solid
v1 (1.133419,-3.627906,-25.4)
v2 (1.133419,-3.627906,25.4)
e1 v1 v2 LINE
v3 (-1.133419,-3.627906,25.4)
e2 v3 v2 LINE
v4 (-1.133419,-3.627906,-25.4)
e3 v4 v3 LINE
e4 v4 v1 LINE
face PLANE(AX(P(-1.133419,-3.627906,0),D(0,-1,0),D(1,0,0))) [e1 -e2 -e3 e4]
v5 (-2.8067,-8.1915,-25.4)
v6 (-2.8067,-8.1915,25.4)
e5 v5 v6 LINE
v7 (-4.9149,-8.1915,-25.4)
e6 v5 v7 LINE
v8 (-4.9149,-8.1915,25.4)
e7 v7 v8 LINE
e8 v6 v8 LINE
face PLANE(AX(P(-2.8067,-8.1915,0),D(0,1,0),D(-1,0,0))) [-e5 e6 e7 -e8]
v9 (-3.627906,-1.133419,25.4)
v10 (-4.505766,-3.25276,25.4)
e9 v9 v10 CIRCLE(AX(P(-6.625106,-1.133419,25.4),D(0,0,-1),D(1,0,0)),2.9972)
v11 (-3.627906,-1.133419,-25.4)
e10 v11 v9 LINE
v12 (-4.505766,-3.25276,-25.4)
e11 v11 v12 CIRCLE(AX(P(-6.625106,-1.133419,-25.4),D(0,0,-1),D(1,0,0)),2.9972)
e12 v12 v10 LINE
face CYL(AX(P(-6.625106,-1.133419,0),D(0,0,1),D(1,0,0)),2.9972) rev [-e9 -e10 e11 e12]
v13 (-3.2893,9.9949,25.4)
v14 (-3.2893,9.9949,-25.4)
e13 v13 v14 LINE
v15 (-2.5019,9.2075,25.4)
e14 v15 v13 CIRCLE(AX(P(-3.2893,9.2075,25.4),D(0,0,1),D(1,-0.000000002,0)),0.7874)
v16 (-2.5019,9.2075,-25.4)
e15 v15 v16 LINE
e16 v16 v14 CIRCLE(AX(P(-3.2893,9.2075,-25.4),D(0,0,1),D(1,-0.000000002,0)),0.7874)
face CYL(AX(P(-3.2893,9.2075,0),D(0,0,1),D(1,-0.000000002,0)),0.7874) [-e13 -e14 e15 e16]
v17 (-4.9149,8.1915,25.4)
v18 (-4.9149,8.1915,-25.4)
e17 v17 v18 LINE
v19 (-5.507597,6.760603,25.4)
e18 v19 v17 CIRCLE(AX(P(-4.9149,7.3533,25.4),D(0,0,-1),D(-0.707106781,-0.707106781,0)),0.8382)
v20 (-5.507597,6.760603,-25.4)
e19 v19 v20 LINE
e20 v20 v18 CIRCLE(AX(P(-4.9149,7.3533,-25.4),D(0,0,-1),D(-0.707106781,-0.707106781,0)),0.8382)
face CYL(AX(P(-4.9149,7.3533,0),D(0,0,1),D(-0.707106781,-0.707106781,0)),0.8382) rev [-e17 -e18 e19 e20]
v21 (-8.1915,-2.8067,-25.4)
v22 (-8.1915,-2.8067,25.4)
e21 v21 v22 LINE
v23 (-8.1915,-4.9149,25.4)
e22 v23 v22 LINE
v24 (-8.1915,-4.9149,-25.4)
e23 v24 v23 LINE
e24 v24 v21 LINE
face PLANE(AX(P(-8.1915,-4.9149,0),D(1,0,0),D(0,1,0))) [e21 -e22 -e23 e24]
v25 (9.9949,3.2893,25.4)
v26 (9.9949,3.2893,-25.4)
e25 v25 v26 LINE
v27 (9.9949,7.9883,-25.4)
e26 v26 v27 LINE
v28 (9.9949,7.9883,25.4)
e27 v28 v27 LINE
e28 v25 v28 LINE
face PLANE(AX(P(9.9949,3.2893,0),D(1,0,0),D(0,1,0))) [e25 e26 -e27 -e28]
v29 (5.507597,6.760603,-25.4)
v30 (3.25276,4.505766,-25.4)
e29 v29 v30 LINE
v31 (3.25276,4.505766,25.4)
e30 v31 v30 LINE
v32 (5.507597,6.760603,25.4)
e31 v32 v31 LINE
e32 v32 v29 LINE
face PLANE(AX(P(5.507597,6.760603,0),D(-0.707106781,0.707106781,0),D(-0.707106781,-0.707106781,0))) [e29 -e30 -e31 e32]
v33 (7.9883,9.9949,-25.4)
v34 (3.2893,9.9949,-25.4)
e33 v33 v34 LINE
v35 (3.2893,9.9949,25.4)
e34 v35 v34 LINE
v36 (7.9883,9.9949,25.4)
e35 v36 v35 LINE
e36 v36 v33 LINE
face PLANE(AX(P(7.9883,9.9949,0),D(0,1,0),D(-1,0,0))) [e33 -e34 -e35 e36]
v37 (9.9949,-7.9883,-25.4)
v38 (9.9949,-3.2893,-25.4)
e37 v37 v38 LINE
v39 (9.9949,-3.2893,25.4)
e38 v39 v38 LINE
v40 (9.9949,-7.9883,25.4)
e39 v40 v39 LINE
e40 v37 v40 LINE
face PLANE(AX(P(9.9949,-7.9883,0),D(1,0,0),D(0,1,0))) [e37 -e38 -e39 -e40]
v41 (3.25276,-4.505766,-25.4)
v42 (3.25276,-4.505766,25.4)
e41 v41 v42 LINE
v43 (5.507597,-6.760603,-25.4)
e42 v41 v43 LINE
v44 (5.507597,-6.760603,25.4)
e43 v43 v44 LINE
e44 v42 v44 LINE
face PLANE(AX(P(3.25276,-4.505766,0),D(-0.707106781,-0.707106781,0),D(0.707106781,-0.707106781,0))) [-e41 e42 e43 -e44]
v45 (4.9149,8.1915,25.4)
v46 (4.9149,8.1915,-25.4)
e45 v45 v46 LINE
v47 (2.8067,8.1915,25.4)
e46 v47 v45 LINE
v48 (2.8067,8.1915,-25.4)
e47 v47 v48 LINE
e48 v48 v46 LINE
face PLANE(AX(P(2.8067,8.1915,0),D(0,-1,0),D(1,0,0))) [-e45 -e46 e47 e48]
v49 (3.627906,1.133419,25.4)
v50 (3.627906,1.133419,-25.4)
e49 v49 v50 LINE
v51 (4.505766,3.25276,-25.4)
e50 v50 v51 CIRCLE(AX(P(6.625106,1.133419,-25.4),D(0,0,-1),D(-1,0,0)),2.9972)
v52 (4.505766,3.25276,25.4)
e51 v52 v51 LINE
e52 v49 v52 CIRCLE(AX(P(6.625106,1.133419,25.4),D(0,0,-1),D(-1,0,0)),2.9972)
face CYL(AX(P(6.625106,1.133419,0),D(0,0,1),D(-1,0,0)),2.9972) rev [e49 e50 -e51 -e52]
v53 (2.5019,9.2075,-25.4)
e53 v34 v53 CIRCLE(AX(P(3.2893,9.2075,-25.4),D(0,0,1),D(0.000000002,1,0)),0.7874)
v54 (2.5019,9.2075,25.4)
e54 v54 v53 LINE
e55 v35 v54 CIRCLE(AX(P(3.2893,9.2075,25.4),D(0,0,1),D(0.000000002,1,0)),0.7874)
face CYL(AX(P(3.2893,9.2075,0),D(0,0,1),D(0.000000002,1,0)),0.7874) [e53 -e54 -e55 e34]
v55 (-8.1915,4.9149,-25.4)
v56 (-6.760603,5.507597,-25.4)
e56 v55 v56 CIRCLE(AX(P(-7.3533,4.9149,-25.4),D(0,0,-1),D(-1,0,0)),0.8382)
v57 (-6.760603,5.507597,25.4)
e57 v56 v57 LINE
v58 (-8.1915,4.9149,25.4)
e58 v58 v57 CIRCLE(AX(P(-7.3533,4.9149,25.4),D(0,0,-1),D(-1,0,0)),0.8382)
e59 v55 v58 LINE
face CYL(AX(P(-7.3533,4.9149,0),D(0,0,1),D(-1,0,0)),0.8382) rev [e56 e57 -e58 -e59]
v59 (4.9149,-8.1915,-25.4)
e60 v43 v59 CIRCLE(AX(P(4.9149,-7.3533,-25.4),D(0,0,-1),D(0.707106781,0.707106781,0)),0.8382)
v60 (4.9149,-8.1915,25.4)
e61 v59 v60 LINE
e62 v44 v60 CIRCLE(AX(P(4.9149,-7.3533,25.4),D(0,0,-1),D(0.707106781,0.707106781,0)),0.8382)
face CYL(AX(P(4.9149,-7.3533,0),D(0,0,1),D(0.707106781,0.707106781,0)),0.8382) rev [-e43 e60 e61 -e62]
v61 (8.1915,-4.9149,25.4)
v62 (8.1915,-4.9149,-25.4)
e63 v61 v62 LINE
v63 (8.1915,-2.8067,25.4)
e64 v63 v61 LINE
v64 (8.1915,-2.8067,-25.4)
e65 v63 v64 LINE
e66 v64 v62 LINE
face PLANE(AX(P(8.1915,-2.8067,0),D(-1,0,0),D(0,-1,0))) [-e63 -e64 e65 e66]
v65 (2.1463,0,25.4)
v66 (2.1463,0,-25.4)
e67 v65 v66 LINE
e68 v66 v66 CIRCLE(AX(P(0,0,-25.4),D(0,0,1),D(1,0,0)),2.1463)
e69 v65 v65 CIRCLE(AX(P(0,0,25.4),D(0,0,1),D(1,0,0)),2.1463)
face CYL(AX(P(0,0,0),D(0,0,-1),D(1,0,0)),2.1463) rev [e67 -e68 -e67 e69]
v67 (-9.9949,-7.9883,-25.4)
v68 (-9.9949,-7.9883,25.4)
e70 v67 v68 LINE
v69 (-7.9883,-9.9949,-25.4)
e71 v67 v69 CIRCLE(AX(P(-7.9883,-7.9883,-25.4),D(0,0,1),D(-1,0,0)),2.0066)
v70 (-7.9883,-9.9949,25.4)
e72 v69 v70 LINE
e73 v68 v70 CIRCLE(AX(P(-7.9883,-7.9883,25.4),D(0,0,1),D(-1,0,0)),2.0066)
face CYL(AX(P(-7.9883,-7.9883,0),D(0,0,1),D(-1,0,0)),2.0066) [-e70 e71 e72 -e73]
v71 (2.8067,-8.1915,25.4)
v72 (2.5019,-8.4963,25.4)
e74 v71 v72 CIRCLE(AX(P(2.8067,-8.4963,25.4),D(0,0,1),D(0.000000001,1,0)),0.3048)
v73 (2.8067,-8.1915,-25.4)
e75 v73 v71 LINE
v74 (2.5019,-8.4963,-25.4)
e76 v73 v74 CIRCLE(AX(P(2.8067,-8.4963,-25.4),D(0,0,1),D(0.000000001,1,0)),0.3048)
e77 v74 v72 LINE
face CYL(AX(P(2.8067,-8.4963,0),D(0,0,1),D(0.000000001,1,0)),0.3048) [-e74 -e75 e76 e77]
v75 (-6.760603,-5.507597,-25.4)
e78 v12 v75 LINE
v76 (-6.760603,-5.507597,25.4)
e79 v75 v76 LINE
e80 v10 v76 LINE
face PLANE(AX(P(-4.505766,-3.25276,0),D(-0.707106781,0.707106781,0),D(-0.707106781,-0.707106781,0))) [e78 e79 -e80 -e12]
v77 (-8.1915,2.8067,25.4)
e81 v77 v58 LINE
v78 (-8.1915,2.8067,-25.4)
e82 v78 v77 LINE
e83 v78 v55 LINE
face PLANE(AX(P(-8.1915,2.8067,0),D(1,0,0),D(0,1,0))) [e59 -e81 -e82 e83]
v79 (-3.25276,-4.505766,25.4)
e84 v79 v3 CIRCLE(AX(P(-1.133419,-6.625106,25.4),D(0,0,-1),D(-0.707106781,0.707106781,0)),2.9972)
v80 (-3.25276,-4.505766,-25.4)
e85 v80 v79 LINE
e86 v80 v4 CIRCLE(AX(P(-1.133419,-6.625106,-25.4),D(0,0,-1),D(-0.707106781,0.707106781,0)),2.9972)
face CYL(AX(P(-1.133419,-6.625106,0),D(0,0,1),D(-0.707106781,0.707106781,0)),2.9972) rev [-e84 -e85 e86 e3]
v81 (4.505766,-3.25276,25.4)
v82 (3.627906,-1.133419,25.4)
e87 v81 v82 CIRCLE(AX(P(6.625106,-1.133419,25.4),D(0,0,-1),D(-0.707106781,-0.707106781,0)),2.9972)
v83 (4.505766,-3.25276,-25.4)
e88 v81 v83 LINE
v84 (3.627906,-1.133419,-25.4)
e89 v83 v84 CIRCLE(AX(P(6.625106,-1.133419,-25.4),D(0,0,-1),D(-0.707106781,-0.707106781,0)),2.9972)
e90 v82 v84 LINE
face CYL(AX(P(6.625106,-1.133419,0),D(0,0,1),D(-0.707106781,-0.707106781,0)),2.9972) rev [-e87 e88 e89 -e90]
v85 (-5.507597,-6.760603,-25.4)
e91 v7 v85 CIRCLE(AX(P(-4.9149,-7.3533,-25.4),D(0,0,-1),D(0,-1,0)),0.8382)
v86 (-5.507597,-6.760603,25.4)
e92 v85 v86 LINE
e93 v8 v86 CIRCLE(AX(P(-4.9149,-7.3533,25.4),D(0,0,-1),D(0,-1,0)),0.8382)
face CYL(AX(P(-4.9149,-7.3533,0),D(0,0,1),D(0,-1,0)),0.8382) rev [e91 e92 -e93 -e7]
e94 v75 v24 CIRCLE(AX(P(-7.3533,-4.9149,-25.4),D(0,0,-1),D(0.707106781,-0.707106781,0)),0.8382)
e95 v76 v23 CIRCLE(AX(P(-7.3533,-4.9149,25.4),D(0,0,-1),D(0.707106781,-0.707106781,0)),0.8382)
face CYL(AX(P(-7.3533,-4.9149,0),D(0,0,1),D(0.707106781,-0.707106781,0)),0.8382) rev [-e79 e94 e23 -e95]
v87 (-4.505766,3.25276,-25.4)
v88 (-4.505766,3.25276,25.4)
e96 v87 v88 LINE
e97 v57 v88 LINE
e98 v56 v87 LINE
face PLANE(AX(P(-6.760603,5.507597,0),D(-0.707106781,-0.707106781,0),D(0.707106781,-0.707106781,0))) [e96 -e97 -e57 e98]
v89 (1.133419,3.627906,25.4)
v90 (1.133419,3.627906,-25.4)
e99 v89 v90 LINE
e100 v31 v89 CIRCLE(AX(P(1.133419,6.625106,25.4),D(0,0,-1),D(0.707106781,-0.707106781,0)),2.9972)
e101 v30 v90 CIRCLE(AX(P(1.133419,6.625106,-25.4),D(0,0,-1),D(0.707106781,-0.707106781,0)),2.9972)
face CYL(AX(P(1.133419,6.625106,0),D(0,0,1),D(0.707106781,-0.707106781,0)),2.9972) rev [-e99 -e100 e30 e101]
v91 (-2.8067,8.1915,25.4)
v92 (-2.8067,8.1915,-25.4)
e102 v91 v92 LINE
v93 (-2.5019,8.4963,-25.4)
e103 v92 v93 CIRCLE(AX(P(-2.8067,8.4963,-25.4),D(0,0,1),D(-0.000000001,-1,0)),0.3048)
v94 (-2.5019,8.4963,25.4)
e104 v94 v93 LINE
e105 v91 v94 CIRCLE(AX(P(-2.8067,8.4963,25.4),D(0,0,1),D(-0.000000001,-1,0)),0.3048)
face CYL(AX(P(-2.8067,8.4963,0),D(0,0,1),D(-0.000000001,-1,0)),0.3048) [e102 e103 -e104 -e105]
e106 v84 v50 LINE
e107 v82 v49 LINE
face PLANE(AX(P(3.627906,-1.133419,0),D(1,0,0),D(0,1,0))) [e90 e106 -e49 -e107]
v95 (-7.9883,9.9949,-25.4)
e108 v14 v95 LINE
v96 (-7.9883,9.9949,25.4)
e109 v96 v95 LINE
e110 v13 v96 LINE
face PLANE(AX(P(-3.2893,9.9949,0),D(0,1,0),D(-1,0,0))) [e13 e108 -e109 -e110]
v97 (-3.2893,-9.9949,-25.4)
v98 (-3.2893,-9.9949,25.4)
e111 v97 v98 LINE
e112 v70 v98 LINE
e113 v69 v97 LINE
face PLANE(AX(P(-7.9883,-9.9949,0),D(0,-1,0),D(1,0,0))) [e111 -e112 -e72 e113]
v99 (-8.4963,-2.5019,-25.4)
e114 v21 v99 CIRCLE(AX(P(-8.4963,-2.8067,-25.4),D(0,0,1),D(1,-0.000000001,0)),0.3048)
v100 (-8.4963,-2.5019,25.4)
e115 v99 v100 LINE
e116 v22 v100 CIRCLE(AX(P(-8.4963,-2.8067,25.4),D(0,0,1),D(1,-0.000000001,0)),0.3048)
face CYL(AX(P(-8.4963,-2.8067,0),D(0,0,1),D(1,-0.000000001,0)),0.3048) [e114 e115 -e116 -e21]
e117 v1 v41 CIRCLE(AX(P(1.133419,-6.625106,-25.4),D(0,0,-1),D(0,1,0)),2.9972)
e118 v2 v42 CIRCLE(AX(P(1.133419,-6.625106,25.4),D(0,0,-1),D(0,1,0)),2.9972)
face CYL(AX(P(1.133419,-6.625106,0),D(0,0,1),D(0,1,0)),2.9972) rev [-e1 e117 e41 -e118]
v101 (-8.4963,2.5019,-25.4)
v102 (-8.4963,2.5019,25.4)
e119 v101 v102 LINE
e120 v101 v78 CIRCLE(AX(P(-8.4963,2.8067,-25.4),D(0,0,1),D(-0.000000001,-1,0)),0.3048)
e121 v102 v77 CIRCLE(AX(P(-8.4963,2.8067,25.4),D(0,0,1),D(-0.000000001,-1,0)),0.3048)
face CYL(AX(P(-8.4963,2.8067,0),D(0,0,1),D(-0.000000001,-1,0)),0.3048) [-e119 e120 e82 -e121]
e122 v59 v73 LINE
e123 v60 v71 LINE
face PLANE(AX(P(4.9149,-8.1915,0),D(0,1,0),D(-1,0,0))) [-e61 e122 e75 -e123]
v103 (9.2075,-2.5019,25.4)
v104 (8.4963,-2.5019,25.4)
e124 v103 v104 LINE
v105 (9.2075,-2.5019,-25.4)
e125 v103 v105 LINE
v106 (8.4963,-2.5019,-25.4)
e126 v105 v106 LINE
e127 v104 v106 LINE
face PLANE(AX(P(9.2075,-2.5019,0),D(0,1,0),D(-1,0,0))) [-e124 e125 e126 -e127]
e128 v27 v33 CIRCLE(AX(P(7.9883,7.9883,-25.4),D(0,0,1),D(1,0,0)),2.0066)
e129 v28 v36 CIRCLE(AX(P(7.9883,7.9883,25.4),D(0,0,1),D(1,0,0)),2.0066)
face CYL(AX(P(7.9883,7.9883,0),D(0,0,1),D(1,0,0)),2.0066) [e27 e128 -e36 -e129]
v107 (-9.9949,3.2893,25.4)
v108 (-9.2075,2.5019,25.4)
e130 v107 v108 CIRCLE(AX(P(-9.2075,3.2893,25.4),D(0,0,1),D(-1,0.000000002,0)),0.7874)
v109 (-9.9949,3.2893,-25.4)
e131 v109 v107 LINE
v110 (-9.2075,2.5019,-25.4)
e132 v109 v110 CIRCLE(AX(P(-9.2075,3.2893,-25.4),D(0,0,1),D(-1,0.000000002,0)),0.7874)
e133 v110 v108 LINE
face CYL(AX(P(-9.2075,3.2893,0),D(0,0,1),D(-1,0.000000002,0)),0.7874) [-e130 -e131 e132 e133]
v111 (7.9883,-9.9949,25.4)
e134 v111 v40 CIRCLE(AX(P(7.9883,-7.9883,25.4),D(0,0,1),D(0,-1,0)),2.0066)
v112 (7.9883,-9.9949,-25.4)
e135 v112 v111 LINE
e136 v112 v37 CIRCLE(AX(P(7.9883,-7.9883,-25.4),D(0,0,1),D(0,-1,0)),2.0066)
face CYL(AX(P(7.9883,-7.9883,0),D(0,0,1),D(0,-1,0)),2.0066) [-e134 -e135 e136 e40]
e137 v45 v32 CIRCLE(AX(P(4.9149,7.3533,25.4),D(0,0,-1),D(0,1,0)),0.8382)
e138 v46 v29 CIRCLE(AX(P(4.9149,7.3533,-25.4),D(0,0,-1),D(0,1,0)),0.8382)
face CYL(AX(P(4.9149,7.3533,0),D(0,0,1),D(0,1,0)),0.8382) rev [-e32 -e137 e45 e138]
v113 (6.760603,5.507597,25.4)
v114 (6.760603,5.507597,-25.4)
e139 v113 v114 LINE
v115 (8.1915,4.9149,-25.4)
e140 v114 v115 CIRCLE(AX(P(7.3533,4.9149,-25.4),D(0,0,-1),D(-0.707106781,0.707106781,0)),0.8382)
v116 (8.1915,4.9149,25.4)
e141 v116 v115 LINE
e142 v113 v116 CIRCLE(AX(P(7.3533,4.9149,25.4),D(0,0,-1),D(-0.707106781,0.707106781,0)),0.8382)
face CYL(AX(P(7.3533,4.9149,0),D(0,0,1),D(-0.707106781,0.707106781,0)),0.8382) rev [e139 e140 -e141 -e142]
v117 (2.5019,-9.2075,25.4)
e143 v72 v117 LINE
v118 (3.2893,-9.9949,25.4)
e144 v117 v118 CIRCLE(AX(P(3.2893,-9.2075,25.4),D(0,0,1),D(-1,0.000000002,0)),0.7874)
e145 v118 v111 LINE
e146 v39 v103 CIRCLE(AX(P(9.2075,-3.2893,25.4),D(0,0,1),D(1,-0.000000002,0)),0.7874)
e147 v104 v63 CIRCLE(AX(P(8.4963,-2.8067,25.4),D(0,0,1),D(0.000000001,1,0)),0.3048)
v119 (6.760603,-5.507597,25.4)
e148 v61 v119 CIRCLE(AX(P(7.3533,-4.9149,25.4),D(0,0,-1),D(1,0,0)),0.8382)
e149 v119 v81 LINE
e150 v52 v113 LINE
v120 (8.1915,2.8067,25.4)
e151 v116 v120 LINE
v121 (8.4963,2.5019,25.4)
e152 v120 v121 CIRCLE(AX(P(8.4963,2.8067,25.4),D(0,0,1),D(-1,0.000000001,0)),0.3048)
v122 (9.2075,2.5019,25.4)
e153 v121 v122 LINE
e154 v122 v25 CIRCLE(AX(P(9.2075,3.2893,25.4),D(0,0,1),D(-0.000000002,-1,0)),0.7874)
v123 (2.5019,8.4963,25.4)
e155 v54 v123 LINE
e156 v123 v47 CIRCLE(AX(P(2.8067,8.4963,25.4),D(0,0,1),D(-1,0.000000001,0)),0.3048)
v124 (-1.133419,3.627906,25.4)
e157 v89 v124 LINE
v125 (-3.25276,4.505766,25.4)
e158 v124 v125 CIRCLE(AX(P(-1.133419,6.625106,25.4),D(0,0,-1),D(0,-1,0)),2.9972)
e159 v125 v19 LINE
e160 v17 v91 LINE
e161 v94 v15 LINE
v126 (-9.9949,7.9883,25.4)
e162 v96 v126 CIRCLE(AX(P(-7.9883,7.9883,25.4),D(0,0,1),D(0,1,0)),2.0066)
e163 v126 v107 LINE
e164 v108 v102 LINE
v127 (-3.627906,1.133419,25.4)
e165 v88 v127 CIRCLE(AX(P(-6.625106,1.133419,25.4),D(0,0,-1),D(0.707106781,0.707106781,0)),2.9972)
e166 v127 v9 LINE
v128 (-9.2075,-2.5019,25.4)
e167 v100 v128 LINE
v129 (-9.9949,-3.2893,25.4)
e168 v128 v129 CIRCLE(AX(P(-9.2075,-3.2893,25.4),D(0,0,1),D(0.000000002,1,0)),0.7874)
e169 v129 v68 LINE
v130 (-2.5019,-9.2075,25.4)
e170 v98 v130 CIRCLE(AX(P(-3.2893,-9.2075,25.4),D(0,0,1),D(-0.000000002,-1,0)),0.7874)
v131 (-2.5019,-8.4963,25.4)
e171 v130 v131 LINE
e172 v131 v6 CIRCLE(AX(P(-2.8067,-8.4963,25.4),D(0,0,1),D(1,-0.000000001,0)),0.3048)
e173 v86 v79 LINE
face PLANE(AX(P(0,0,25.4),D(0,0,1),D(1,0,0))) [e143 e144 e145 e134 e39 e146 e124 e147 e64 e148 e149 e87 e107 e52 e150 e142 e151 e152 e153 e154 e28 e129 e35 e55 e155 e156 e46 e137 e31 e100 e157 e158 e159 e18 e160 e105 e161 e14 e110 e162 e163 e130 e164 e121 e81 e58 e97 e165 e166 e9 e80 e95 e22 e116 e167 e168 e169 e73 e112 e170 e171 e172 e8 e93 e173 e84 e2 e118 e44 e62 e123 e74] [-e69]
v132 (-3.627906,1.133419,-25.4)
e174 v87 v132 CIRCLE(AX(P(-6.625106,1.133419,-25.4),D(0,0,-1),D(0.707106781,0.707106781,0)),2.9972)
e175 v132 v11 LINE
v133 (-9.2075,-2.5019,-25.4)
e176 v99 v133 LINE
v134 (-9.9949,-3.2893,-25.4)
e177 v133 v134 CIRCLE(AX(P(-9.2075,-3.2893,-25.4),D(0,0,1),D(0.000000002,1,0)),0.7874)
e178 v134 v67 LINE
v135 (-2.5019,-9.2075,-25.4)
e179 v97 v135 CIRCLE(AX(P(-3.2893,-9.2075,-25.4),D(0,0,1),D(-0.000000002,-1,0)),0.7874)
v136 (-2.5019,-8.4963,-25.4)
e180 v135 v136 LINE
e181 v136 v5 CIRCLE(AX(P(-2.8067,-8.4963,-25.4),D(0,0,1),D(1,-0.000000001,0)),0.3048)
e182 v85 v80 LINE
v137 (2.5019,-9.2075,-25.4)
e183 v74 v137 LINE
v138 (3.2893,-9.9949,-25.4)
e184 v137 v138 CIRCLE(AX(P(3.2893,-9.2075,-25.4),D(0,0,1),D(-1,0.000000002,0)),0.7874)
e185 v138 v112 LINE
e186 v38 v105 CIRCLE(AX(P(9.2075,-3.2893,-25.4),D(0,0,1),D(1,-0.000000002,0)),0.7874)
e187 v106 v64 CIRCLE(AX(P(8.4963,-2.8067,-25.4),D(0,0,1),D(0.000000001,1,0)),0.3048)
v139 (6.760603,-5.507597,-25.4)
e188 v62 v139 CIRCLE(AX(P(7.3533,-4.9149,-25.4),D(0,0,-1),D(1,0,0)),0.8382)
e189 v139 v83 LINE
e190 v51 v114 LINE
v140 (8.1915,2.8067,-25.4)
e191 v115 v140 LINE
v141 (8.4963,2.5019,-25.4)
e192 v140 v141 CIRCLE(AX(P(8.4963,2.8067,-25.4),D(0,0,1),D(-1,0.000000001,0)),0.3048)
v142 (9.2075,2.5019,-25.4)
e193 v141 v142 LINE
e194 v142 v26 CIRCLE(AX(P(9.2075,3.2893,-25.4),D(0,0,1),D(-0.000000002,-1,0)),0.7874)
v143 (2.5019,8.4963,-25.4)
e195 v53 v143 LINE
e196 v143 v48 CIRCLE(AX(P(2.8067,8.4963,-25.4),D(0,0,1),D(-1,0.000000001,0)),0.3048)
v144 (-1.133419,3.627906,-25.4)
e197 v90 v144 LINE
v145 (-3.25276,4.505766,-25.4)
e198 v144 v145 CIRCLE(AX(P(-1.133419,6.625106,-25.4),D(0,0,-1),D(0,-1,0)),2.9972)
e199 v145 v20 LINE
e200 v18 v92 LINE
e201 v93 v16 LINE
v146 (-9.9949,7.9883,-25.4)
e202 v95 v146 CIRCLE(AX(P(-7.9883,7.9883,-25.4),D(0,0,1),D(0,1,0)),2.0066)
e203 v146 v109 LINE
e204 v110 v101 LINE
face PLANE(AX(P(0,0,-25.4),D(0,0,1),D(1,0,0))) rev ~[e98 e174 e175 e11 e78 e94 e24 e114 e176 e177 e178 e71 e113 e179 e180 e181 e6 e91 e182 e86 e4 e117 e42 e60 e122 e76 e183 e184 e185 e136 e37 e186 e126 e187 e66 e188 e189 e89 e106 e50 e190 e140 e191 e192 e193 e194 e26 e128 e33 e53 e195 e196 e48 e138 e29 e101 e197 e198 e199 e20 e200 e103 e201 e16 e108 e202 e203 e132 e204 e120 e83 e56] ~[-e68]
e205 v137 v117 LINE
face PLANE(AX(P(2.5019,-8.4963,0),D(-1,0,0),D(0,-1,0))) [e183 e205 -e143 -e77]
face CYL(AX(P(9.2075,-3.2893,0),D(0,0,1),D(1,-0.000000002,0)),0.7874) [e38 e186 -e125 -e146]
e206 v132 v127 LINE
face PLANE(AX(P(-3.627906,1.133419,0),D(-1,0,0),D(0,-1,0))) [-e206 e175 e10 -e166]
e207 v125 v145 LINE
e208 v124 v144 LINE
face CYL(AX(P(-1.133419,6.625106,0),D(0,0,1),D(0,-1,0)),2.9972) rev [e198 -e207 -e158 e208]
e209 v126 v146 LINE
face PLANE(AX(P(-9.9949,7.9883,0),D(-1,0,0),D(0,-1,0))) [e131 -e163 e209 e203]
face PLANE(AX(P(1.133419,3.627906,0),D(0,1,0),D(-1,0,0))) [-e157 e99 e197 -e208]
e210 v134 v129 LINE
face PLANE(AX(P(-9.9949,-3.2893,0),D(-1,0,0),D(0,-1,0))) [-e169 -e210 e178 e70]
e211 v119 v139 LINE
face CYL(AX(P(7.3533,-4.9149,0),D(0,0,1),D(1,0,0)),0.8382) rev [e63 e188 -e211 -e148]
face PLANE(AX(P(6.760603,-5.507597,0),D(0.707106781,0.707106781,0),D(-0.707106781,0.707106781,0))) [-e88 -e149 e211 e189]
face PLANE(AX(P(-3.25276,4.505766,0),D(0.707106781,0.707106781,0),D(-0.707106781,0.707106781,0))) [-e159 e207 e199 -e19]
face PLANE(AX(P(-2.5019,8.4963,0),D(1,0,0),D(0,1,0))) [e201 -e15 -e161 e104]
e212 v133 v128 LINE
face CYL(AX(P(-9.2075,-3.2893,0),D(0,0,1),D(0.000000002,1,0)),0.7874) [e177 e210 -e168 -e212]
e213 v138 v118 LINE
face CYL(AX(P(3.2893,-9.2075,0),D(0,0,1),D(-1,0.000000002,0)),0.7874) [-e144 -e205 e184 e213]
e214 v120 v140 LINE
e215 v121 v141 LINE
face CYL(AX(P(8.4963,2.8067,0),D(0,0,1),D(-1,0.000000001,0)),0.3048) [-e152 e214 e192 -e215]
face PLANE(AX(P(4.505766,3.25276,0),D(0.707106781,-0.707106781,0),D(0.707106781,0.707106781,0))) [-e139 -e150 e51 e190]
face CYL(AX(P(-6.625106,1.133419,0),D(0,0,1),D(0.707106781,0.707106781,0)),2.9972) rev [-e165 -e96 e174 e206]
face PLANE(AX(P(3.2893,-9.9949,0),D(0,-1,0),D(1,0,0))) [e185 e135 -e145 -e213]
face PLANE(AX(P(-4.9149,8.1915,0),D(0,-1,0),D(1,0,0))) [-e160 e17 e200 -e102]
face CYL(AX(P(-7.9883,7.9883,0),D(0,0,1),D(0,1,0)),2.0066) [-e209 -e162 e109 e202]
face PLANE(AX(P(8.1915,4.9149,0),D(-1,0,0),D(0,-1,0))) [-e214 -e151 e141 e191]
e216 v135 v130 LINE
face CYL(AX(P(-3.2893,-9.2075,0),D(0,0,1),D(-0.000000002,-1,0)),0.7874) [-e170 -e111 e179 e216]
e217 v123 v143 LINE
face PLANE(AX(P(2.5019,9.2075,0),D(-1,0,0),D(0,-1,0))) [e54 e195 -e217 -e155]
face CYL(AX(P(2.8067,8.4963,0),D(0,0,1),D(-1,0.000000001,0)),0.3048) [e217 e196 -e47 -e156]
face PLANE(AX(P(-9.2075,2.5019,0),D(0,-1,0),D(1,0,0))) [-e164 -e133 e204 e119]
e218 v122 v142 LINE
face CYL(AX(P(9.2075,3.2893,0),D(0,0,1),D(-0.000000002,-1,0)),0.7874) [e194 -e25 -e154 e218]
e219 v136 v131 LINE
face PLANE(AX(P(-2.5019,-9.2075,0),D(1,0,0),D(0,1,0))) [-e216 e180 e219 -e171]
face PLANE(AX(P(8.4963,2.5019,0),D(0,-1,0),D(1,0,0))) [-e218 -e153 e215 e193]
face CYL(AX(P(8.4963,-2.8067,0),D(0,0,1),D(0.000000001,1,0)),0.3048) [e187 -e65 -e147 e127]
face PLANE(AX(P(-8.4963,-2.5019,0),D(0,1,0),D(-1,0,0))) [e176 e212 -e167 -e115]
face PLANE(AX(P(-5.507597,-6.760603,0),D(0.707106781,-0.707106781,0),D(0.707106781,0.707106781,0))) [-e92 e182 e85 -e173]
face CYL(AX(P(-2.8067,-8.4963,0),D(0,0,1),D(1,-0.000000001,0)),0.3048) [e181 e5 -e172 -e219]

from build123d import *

# Parameters (mm, degrees)
SKETCH1_R           = 2.1463
BOSS_EXTRUDE1_DEPTH = 25.4


with BuildPart() as part:
    # Sketch1 → Boss-Extrude1 (new, symmetric)
    with BuildSketch(Plane.XY):
        with BuildLine():
            Line((-9.9949, 7.9883), (-9.9949, 3.2893))
            ThreePointArc((-9.9949, 3.2893), (-9.76427588, 2.73252412), (-9.2075, 2.5019))
            Line((-9.2075, 2.5019), (-8.4963, 2.5019))
            ThreePointArc((-8.4963, 2.5019), (-8.280773853, 2.591173853), (-8.1915, 2.8067))
            Line((-8.1915, 2.8067), (-8.1915, 4.9149))
            ThreePointArc((-8.1915, 4.9149), (-7.674065253, 5.689295824), (-6.760603096, 5.507596904))
            Line((-6.760603096, 5.507596904), (-4.505765747, 3.252759555))
            ThreePointArc((-4.505765747, 3.252759555), (-3.856054457, 2.280397894), (-3.627906192, 1.133419111))
            Line((-3.627906192, 1.133419111), (-3.627906192, -1.133419111))
            ThreePointArc((-3.627906192, -1.133419111), (-3.856054457, -2.280397894), (-4.505765747, -3.252759555))
            Line((-4.505765747, -3.252759555), (-6.760603096, -5.507596904))
            ThreePointArc((-6.760603096, -5.507596904), (-7.674065253, -5.689295824), (-8.1915, -4.9149))
            Line((-8.1915, -4.9149), (-8.1915, -2.8067))
            ThreePointArc((-8.1915, -2.8067), (-8.280773853, -2.591173853), (-8.4963, -2.5019))
            Line((-8.4963, -2.5019), (-9.2075, -2.5019))
            ThreePointArc((-9.2075, -2.5019), (-9.76427588, -2.73252412), (-9.9949, -3.2893))
            Line((-9.9949, -3.2893), (-9.9949, -7.9883))
            ThreePointArc((-9.9949, -7.9883), (-9.407180467, -9.407180467), (-7.9883, -9.9949))
            Line((-7.9883, -9.9949), (-3.2893, -9.9949))
            ThreePointArc((-3.2893, -9.9949), (-2.73252412, -9.76427588), (-2.5019, -9.2075))
            Line((-2.5019, -9.2075), (-2.5019, -8.4963))
            ThreePointArc((-2.5019, -8.4963), (-2.591173853, -8.280773853), (-2.8067, -8.1915))
            Line((-2.8067, -8.1915), (-4.9149, -8.1915))
            ThreePointArc((-4.9149, -8.1915), (-5.689295824, -7.674065253), (-5.507596904, -6.760603096))
            Line((-5.507596904, -6.760603096), (-3.252759555, -4.505765747))
            ThreePointArc((-3.252759555, -4.505765747), (-2.280397894, -3.856054457), (-1.133419111, -3.627906192))
            Line((-1.133419111, -3.627906192), (1.133419111, -3.627906192))
            ThreePointArc((1.133419111, -3.627906192), (2.280397894, -3.856054457), (3.252759555, -4.505765747))
            Line((3.252759555, -4.505765747), (5.507596904, -6.760603096))
            ThreePointArc((5.507596904, -6.760603096), (5.689295824, -7.674065253), (4.9149, -8.1915))
            Line((4.9149, -8.1915), (2.8067, -8.1915))
            ThreePointArc((2.8067, -8.1915), (2.591173853, -8.280773853), (2.5019, -8.4963))
            Line((2.5019, -8.4963), (2.5019, -9.2075))
            ThreePointArc((2.5019, -9.2075), (2.73252412, -9.76427588), (3.2893, -9.9949))
            Line((3.2893, -9.9949), (7.9883, -9.9949))
            ThreePointArc((7.9883, -9.9949), (9.407180467, -9.407180467), (9.9949, -7.9883))
            Line((9.9949, -7.9883), (9.9949, -3.2893))
            ThreePointArc((9.9949, -3.2893), (9.76427588, -2.73252412), (9.2075, -2.5019))
            Line((9.2075, -2.5019), (8.4963, -2.5019))
            ThreePointArc((8.4963, -2.5019), (8.280773853, -2.591173853), (8.1915, -2.8067))
            Line((8.1915, -2.8067), (8.1915, -4.9149))
            ThreePointArc((8.1915, -4.9149), (7.674065253, -5.689295824), (6.760603096, -5.507596904))
            Line((6.760603096, -5.507596904), (4.505765747, -3.252759555))
            ThreePointArc((4.505765747, -3.252759555), (3.856054457, -2.280397894), (3.627906192, -1.133419111))
            Line((3.627906192, -1.133419111), (3.627906192, 1.133419111))
            ThreePointArc((3.627906192, 1.133419111), (3.856054457, 2.280397894), (4.505765747, 3.252759555))
            Line((4.505765747, 3.252759555), (6.760603096, 5.507596904))
            ThreePointArc((6.760603096, 5.507596904), (7.674065253, 5.689295824), (8.1915, 4.9149))
            Line((8.1915, 4.9149), (8.1915, 2.8067))
            ThreePointArc((8.1915, 2.8067), (8.280773853, 2.591173853), (8.4963, 2.5019))
            Line((8.4963, 2.5019), (9.2075, 2.5019))
            ThreePointArc((9.2075, 2.5019), (9.76427588, 2.73252412), (9.9949, 3.2893))
            Line((9.9949, 3.2893), (9.9949, 7.9883))
            ThreePointArc((9.9949, 7.9883), (9.407180467, 9.407180467), (7.9883, 9.9949))
            Line((7.9883, 9.9949), (3.2893, 9.9949))
            ThreePointArc((3.2893, 9.9949), (2.73252412, 9.76427588), (2.5019, 9.2075))
            Line((2.5019, 9.2075), (2.5019, 8.4963))
            ThreePointArc((2.5019, 8.4963), (2.591173853, 8.280773853), (2.8067, 8.1915))
            Line((2.8067, 8.1915), (4.9149, 8.1915))
            ThreePointArc((4.9149, 8.1915), (5.689295824, 7.674065253), (5.507596904, 6.760603096))
            Line((5.507596904, 6.760603096), (3.252759555, 4.505765747))
            ThreePointArc((3.252759555, 4.505765747), (2.280397894, 3.856054457), (1.133419111, 3.627906192))
            Line((1.133419111, 3.627906192), (-1.133419111, 3.627906192))
            ThreePointArc((-1.133419111, 3.627906192), (-2.280397894, 3.856054457), (-3.252759555, 4.505765747))
            Line((-3.252759555, 4.505765747), (-5.507596904, 6.760603096))
            ThreePointArc((-5.507596904, 6.760603096), (-5.689295824, 7.674065253), (-4.9149, 8.1915))
            Line((-4.9149, 8.1915), (-2.8067, 8.1915))
            ThreePointArc((-2.8067, 8.1915), (-2.591173853, 8.280773853), (-2.5019, 8.4963))
            Line((-2.5019, 8.4963), (-2.5019, 9.2075))
            ThreePointArc((-2.5019, 9.2075), (-2.73252412, 9.76427588), (-3.2893, 9.9949))
            Line((-3.2893, 9.9949), (-7.9883, 9.9949))
            ThreePointArc((-7.9883, 9.9949), (-9.407180467, 9.407180467), (-9.9949, 7.9883))
        make_face()
        Circle(SKETCH1_R, mode=Mode.SUBTRACT)
    extrude(amount=BOSS_EXTRUDE1_DEPTH, both=True)


solid = part.part
